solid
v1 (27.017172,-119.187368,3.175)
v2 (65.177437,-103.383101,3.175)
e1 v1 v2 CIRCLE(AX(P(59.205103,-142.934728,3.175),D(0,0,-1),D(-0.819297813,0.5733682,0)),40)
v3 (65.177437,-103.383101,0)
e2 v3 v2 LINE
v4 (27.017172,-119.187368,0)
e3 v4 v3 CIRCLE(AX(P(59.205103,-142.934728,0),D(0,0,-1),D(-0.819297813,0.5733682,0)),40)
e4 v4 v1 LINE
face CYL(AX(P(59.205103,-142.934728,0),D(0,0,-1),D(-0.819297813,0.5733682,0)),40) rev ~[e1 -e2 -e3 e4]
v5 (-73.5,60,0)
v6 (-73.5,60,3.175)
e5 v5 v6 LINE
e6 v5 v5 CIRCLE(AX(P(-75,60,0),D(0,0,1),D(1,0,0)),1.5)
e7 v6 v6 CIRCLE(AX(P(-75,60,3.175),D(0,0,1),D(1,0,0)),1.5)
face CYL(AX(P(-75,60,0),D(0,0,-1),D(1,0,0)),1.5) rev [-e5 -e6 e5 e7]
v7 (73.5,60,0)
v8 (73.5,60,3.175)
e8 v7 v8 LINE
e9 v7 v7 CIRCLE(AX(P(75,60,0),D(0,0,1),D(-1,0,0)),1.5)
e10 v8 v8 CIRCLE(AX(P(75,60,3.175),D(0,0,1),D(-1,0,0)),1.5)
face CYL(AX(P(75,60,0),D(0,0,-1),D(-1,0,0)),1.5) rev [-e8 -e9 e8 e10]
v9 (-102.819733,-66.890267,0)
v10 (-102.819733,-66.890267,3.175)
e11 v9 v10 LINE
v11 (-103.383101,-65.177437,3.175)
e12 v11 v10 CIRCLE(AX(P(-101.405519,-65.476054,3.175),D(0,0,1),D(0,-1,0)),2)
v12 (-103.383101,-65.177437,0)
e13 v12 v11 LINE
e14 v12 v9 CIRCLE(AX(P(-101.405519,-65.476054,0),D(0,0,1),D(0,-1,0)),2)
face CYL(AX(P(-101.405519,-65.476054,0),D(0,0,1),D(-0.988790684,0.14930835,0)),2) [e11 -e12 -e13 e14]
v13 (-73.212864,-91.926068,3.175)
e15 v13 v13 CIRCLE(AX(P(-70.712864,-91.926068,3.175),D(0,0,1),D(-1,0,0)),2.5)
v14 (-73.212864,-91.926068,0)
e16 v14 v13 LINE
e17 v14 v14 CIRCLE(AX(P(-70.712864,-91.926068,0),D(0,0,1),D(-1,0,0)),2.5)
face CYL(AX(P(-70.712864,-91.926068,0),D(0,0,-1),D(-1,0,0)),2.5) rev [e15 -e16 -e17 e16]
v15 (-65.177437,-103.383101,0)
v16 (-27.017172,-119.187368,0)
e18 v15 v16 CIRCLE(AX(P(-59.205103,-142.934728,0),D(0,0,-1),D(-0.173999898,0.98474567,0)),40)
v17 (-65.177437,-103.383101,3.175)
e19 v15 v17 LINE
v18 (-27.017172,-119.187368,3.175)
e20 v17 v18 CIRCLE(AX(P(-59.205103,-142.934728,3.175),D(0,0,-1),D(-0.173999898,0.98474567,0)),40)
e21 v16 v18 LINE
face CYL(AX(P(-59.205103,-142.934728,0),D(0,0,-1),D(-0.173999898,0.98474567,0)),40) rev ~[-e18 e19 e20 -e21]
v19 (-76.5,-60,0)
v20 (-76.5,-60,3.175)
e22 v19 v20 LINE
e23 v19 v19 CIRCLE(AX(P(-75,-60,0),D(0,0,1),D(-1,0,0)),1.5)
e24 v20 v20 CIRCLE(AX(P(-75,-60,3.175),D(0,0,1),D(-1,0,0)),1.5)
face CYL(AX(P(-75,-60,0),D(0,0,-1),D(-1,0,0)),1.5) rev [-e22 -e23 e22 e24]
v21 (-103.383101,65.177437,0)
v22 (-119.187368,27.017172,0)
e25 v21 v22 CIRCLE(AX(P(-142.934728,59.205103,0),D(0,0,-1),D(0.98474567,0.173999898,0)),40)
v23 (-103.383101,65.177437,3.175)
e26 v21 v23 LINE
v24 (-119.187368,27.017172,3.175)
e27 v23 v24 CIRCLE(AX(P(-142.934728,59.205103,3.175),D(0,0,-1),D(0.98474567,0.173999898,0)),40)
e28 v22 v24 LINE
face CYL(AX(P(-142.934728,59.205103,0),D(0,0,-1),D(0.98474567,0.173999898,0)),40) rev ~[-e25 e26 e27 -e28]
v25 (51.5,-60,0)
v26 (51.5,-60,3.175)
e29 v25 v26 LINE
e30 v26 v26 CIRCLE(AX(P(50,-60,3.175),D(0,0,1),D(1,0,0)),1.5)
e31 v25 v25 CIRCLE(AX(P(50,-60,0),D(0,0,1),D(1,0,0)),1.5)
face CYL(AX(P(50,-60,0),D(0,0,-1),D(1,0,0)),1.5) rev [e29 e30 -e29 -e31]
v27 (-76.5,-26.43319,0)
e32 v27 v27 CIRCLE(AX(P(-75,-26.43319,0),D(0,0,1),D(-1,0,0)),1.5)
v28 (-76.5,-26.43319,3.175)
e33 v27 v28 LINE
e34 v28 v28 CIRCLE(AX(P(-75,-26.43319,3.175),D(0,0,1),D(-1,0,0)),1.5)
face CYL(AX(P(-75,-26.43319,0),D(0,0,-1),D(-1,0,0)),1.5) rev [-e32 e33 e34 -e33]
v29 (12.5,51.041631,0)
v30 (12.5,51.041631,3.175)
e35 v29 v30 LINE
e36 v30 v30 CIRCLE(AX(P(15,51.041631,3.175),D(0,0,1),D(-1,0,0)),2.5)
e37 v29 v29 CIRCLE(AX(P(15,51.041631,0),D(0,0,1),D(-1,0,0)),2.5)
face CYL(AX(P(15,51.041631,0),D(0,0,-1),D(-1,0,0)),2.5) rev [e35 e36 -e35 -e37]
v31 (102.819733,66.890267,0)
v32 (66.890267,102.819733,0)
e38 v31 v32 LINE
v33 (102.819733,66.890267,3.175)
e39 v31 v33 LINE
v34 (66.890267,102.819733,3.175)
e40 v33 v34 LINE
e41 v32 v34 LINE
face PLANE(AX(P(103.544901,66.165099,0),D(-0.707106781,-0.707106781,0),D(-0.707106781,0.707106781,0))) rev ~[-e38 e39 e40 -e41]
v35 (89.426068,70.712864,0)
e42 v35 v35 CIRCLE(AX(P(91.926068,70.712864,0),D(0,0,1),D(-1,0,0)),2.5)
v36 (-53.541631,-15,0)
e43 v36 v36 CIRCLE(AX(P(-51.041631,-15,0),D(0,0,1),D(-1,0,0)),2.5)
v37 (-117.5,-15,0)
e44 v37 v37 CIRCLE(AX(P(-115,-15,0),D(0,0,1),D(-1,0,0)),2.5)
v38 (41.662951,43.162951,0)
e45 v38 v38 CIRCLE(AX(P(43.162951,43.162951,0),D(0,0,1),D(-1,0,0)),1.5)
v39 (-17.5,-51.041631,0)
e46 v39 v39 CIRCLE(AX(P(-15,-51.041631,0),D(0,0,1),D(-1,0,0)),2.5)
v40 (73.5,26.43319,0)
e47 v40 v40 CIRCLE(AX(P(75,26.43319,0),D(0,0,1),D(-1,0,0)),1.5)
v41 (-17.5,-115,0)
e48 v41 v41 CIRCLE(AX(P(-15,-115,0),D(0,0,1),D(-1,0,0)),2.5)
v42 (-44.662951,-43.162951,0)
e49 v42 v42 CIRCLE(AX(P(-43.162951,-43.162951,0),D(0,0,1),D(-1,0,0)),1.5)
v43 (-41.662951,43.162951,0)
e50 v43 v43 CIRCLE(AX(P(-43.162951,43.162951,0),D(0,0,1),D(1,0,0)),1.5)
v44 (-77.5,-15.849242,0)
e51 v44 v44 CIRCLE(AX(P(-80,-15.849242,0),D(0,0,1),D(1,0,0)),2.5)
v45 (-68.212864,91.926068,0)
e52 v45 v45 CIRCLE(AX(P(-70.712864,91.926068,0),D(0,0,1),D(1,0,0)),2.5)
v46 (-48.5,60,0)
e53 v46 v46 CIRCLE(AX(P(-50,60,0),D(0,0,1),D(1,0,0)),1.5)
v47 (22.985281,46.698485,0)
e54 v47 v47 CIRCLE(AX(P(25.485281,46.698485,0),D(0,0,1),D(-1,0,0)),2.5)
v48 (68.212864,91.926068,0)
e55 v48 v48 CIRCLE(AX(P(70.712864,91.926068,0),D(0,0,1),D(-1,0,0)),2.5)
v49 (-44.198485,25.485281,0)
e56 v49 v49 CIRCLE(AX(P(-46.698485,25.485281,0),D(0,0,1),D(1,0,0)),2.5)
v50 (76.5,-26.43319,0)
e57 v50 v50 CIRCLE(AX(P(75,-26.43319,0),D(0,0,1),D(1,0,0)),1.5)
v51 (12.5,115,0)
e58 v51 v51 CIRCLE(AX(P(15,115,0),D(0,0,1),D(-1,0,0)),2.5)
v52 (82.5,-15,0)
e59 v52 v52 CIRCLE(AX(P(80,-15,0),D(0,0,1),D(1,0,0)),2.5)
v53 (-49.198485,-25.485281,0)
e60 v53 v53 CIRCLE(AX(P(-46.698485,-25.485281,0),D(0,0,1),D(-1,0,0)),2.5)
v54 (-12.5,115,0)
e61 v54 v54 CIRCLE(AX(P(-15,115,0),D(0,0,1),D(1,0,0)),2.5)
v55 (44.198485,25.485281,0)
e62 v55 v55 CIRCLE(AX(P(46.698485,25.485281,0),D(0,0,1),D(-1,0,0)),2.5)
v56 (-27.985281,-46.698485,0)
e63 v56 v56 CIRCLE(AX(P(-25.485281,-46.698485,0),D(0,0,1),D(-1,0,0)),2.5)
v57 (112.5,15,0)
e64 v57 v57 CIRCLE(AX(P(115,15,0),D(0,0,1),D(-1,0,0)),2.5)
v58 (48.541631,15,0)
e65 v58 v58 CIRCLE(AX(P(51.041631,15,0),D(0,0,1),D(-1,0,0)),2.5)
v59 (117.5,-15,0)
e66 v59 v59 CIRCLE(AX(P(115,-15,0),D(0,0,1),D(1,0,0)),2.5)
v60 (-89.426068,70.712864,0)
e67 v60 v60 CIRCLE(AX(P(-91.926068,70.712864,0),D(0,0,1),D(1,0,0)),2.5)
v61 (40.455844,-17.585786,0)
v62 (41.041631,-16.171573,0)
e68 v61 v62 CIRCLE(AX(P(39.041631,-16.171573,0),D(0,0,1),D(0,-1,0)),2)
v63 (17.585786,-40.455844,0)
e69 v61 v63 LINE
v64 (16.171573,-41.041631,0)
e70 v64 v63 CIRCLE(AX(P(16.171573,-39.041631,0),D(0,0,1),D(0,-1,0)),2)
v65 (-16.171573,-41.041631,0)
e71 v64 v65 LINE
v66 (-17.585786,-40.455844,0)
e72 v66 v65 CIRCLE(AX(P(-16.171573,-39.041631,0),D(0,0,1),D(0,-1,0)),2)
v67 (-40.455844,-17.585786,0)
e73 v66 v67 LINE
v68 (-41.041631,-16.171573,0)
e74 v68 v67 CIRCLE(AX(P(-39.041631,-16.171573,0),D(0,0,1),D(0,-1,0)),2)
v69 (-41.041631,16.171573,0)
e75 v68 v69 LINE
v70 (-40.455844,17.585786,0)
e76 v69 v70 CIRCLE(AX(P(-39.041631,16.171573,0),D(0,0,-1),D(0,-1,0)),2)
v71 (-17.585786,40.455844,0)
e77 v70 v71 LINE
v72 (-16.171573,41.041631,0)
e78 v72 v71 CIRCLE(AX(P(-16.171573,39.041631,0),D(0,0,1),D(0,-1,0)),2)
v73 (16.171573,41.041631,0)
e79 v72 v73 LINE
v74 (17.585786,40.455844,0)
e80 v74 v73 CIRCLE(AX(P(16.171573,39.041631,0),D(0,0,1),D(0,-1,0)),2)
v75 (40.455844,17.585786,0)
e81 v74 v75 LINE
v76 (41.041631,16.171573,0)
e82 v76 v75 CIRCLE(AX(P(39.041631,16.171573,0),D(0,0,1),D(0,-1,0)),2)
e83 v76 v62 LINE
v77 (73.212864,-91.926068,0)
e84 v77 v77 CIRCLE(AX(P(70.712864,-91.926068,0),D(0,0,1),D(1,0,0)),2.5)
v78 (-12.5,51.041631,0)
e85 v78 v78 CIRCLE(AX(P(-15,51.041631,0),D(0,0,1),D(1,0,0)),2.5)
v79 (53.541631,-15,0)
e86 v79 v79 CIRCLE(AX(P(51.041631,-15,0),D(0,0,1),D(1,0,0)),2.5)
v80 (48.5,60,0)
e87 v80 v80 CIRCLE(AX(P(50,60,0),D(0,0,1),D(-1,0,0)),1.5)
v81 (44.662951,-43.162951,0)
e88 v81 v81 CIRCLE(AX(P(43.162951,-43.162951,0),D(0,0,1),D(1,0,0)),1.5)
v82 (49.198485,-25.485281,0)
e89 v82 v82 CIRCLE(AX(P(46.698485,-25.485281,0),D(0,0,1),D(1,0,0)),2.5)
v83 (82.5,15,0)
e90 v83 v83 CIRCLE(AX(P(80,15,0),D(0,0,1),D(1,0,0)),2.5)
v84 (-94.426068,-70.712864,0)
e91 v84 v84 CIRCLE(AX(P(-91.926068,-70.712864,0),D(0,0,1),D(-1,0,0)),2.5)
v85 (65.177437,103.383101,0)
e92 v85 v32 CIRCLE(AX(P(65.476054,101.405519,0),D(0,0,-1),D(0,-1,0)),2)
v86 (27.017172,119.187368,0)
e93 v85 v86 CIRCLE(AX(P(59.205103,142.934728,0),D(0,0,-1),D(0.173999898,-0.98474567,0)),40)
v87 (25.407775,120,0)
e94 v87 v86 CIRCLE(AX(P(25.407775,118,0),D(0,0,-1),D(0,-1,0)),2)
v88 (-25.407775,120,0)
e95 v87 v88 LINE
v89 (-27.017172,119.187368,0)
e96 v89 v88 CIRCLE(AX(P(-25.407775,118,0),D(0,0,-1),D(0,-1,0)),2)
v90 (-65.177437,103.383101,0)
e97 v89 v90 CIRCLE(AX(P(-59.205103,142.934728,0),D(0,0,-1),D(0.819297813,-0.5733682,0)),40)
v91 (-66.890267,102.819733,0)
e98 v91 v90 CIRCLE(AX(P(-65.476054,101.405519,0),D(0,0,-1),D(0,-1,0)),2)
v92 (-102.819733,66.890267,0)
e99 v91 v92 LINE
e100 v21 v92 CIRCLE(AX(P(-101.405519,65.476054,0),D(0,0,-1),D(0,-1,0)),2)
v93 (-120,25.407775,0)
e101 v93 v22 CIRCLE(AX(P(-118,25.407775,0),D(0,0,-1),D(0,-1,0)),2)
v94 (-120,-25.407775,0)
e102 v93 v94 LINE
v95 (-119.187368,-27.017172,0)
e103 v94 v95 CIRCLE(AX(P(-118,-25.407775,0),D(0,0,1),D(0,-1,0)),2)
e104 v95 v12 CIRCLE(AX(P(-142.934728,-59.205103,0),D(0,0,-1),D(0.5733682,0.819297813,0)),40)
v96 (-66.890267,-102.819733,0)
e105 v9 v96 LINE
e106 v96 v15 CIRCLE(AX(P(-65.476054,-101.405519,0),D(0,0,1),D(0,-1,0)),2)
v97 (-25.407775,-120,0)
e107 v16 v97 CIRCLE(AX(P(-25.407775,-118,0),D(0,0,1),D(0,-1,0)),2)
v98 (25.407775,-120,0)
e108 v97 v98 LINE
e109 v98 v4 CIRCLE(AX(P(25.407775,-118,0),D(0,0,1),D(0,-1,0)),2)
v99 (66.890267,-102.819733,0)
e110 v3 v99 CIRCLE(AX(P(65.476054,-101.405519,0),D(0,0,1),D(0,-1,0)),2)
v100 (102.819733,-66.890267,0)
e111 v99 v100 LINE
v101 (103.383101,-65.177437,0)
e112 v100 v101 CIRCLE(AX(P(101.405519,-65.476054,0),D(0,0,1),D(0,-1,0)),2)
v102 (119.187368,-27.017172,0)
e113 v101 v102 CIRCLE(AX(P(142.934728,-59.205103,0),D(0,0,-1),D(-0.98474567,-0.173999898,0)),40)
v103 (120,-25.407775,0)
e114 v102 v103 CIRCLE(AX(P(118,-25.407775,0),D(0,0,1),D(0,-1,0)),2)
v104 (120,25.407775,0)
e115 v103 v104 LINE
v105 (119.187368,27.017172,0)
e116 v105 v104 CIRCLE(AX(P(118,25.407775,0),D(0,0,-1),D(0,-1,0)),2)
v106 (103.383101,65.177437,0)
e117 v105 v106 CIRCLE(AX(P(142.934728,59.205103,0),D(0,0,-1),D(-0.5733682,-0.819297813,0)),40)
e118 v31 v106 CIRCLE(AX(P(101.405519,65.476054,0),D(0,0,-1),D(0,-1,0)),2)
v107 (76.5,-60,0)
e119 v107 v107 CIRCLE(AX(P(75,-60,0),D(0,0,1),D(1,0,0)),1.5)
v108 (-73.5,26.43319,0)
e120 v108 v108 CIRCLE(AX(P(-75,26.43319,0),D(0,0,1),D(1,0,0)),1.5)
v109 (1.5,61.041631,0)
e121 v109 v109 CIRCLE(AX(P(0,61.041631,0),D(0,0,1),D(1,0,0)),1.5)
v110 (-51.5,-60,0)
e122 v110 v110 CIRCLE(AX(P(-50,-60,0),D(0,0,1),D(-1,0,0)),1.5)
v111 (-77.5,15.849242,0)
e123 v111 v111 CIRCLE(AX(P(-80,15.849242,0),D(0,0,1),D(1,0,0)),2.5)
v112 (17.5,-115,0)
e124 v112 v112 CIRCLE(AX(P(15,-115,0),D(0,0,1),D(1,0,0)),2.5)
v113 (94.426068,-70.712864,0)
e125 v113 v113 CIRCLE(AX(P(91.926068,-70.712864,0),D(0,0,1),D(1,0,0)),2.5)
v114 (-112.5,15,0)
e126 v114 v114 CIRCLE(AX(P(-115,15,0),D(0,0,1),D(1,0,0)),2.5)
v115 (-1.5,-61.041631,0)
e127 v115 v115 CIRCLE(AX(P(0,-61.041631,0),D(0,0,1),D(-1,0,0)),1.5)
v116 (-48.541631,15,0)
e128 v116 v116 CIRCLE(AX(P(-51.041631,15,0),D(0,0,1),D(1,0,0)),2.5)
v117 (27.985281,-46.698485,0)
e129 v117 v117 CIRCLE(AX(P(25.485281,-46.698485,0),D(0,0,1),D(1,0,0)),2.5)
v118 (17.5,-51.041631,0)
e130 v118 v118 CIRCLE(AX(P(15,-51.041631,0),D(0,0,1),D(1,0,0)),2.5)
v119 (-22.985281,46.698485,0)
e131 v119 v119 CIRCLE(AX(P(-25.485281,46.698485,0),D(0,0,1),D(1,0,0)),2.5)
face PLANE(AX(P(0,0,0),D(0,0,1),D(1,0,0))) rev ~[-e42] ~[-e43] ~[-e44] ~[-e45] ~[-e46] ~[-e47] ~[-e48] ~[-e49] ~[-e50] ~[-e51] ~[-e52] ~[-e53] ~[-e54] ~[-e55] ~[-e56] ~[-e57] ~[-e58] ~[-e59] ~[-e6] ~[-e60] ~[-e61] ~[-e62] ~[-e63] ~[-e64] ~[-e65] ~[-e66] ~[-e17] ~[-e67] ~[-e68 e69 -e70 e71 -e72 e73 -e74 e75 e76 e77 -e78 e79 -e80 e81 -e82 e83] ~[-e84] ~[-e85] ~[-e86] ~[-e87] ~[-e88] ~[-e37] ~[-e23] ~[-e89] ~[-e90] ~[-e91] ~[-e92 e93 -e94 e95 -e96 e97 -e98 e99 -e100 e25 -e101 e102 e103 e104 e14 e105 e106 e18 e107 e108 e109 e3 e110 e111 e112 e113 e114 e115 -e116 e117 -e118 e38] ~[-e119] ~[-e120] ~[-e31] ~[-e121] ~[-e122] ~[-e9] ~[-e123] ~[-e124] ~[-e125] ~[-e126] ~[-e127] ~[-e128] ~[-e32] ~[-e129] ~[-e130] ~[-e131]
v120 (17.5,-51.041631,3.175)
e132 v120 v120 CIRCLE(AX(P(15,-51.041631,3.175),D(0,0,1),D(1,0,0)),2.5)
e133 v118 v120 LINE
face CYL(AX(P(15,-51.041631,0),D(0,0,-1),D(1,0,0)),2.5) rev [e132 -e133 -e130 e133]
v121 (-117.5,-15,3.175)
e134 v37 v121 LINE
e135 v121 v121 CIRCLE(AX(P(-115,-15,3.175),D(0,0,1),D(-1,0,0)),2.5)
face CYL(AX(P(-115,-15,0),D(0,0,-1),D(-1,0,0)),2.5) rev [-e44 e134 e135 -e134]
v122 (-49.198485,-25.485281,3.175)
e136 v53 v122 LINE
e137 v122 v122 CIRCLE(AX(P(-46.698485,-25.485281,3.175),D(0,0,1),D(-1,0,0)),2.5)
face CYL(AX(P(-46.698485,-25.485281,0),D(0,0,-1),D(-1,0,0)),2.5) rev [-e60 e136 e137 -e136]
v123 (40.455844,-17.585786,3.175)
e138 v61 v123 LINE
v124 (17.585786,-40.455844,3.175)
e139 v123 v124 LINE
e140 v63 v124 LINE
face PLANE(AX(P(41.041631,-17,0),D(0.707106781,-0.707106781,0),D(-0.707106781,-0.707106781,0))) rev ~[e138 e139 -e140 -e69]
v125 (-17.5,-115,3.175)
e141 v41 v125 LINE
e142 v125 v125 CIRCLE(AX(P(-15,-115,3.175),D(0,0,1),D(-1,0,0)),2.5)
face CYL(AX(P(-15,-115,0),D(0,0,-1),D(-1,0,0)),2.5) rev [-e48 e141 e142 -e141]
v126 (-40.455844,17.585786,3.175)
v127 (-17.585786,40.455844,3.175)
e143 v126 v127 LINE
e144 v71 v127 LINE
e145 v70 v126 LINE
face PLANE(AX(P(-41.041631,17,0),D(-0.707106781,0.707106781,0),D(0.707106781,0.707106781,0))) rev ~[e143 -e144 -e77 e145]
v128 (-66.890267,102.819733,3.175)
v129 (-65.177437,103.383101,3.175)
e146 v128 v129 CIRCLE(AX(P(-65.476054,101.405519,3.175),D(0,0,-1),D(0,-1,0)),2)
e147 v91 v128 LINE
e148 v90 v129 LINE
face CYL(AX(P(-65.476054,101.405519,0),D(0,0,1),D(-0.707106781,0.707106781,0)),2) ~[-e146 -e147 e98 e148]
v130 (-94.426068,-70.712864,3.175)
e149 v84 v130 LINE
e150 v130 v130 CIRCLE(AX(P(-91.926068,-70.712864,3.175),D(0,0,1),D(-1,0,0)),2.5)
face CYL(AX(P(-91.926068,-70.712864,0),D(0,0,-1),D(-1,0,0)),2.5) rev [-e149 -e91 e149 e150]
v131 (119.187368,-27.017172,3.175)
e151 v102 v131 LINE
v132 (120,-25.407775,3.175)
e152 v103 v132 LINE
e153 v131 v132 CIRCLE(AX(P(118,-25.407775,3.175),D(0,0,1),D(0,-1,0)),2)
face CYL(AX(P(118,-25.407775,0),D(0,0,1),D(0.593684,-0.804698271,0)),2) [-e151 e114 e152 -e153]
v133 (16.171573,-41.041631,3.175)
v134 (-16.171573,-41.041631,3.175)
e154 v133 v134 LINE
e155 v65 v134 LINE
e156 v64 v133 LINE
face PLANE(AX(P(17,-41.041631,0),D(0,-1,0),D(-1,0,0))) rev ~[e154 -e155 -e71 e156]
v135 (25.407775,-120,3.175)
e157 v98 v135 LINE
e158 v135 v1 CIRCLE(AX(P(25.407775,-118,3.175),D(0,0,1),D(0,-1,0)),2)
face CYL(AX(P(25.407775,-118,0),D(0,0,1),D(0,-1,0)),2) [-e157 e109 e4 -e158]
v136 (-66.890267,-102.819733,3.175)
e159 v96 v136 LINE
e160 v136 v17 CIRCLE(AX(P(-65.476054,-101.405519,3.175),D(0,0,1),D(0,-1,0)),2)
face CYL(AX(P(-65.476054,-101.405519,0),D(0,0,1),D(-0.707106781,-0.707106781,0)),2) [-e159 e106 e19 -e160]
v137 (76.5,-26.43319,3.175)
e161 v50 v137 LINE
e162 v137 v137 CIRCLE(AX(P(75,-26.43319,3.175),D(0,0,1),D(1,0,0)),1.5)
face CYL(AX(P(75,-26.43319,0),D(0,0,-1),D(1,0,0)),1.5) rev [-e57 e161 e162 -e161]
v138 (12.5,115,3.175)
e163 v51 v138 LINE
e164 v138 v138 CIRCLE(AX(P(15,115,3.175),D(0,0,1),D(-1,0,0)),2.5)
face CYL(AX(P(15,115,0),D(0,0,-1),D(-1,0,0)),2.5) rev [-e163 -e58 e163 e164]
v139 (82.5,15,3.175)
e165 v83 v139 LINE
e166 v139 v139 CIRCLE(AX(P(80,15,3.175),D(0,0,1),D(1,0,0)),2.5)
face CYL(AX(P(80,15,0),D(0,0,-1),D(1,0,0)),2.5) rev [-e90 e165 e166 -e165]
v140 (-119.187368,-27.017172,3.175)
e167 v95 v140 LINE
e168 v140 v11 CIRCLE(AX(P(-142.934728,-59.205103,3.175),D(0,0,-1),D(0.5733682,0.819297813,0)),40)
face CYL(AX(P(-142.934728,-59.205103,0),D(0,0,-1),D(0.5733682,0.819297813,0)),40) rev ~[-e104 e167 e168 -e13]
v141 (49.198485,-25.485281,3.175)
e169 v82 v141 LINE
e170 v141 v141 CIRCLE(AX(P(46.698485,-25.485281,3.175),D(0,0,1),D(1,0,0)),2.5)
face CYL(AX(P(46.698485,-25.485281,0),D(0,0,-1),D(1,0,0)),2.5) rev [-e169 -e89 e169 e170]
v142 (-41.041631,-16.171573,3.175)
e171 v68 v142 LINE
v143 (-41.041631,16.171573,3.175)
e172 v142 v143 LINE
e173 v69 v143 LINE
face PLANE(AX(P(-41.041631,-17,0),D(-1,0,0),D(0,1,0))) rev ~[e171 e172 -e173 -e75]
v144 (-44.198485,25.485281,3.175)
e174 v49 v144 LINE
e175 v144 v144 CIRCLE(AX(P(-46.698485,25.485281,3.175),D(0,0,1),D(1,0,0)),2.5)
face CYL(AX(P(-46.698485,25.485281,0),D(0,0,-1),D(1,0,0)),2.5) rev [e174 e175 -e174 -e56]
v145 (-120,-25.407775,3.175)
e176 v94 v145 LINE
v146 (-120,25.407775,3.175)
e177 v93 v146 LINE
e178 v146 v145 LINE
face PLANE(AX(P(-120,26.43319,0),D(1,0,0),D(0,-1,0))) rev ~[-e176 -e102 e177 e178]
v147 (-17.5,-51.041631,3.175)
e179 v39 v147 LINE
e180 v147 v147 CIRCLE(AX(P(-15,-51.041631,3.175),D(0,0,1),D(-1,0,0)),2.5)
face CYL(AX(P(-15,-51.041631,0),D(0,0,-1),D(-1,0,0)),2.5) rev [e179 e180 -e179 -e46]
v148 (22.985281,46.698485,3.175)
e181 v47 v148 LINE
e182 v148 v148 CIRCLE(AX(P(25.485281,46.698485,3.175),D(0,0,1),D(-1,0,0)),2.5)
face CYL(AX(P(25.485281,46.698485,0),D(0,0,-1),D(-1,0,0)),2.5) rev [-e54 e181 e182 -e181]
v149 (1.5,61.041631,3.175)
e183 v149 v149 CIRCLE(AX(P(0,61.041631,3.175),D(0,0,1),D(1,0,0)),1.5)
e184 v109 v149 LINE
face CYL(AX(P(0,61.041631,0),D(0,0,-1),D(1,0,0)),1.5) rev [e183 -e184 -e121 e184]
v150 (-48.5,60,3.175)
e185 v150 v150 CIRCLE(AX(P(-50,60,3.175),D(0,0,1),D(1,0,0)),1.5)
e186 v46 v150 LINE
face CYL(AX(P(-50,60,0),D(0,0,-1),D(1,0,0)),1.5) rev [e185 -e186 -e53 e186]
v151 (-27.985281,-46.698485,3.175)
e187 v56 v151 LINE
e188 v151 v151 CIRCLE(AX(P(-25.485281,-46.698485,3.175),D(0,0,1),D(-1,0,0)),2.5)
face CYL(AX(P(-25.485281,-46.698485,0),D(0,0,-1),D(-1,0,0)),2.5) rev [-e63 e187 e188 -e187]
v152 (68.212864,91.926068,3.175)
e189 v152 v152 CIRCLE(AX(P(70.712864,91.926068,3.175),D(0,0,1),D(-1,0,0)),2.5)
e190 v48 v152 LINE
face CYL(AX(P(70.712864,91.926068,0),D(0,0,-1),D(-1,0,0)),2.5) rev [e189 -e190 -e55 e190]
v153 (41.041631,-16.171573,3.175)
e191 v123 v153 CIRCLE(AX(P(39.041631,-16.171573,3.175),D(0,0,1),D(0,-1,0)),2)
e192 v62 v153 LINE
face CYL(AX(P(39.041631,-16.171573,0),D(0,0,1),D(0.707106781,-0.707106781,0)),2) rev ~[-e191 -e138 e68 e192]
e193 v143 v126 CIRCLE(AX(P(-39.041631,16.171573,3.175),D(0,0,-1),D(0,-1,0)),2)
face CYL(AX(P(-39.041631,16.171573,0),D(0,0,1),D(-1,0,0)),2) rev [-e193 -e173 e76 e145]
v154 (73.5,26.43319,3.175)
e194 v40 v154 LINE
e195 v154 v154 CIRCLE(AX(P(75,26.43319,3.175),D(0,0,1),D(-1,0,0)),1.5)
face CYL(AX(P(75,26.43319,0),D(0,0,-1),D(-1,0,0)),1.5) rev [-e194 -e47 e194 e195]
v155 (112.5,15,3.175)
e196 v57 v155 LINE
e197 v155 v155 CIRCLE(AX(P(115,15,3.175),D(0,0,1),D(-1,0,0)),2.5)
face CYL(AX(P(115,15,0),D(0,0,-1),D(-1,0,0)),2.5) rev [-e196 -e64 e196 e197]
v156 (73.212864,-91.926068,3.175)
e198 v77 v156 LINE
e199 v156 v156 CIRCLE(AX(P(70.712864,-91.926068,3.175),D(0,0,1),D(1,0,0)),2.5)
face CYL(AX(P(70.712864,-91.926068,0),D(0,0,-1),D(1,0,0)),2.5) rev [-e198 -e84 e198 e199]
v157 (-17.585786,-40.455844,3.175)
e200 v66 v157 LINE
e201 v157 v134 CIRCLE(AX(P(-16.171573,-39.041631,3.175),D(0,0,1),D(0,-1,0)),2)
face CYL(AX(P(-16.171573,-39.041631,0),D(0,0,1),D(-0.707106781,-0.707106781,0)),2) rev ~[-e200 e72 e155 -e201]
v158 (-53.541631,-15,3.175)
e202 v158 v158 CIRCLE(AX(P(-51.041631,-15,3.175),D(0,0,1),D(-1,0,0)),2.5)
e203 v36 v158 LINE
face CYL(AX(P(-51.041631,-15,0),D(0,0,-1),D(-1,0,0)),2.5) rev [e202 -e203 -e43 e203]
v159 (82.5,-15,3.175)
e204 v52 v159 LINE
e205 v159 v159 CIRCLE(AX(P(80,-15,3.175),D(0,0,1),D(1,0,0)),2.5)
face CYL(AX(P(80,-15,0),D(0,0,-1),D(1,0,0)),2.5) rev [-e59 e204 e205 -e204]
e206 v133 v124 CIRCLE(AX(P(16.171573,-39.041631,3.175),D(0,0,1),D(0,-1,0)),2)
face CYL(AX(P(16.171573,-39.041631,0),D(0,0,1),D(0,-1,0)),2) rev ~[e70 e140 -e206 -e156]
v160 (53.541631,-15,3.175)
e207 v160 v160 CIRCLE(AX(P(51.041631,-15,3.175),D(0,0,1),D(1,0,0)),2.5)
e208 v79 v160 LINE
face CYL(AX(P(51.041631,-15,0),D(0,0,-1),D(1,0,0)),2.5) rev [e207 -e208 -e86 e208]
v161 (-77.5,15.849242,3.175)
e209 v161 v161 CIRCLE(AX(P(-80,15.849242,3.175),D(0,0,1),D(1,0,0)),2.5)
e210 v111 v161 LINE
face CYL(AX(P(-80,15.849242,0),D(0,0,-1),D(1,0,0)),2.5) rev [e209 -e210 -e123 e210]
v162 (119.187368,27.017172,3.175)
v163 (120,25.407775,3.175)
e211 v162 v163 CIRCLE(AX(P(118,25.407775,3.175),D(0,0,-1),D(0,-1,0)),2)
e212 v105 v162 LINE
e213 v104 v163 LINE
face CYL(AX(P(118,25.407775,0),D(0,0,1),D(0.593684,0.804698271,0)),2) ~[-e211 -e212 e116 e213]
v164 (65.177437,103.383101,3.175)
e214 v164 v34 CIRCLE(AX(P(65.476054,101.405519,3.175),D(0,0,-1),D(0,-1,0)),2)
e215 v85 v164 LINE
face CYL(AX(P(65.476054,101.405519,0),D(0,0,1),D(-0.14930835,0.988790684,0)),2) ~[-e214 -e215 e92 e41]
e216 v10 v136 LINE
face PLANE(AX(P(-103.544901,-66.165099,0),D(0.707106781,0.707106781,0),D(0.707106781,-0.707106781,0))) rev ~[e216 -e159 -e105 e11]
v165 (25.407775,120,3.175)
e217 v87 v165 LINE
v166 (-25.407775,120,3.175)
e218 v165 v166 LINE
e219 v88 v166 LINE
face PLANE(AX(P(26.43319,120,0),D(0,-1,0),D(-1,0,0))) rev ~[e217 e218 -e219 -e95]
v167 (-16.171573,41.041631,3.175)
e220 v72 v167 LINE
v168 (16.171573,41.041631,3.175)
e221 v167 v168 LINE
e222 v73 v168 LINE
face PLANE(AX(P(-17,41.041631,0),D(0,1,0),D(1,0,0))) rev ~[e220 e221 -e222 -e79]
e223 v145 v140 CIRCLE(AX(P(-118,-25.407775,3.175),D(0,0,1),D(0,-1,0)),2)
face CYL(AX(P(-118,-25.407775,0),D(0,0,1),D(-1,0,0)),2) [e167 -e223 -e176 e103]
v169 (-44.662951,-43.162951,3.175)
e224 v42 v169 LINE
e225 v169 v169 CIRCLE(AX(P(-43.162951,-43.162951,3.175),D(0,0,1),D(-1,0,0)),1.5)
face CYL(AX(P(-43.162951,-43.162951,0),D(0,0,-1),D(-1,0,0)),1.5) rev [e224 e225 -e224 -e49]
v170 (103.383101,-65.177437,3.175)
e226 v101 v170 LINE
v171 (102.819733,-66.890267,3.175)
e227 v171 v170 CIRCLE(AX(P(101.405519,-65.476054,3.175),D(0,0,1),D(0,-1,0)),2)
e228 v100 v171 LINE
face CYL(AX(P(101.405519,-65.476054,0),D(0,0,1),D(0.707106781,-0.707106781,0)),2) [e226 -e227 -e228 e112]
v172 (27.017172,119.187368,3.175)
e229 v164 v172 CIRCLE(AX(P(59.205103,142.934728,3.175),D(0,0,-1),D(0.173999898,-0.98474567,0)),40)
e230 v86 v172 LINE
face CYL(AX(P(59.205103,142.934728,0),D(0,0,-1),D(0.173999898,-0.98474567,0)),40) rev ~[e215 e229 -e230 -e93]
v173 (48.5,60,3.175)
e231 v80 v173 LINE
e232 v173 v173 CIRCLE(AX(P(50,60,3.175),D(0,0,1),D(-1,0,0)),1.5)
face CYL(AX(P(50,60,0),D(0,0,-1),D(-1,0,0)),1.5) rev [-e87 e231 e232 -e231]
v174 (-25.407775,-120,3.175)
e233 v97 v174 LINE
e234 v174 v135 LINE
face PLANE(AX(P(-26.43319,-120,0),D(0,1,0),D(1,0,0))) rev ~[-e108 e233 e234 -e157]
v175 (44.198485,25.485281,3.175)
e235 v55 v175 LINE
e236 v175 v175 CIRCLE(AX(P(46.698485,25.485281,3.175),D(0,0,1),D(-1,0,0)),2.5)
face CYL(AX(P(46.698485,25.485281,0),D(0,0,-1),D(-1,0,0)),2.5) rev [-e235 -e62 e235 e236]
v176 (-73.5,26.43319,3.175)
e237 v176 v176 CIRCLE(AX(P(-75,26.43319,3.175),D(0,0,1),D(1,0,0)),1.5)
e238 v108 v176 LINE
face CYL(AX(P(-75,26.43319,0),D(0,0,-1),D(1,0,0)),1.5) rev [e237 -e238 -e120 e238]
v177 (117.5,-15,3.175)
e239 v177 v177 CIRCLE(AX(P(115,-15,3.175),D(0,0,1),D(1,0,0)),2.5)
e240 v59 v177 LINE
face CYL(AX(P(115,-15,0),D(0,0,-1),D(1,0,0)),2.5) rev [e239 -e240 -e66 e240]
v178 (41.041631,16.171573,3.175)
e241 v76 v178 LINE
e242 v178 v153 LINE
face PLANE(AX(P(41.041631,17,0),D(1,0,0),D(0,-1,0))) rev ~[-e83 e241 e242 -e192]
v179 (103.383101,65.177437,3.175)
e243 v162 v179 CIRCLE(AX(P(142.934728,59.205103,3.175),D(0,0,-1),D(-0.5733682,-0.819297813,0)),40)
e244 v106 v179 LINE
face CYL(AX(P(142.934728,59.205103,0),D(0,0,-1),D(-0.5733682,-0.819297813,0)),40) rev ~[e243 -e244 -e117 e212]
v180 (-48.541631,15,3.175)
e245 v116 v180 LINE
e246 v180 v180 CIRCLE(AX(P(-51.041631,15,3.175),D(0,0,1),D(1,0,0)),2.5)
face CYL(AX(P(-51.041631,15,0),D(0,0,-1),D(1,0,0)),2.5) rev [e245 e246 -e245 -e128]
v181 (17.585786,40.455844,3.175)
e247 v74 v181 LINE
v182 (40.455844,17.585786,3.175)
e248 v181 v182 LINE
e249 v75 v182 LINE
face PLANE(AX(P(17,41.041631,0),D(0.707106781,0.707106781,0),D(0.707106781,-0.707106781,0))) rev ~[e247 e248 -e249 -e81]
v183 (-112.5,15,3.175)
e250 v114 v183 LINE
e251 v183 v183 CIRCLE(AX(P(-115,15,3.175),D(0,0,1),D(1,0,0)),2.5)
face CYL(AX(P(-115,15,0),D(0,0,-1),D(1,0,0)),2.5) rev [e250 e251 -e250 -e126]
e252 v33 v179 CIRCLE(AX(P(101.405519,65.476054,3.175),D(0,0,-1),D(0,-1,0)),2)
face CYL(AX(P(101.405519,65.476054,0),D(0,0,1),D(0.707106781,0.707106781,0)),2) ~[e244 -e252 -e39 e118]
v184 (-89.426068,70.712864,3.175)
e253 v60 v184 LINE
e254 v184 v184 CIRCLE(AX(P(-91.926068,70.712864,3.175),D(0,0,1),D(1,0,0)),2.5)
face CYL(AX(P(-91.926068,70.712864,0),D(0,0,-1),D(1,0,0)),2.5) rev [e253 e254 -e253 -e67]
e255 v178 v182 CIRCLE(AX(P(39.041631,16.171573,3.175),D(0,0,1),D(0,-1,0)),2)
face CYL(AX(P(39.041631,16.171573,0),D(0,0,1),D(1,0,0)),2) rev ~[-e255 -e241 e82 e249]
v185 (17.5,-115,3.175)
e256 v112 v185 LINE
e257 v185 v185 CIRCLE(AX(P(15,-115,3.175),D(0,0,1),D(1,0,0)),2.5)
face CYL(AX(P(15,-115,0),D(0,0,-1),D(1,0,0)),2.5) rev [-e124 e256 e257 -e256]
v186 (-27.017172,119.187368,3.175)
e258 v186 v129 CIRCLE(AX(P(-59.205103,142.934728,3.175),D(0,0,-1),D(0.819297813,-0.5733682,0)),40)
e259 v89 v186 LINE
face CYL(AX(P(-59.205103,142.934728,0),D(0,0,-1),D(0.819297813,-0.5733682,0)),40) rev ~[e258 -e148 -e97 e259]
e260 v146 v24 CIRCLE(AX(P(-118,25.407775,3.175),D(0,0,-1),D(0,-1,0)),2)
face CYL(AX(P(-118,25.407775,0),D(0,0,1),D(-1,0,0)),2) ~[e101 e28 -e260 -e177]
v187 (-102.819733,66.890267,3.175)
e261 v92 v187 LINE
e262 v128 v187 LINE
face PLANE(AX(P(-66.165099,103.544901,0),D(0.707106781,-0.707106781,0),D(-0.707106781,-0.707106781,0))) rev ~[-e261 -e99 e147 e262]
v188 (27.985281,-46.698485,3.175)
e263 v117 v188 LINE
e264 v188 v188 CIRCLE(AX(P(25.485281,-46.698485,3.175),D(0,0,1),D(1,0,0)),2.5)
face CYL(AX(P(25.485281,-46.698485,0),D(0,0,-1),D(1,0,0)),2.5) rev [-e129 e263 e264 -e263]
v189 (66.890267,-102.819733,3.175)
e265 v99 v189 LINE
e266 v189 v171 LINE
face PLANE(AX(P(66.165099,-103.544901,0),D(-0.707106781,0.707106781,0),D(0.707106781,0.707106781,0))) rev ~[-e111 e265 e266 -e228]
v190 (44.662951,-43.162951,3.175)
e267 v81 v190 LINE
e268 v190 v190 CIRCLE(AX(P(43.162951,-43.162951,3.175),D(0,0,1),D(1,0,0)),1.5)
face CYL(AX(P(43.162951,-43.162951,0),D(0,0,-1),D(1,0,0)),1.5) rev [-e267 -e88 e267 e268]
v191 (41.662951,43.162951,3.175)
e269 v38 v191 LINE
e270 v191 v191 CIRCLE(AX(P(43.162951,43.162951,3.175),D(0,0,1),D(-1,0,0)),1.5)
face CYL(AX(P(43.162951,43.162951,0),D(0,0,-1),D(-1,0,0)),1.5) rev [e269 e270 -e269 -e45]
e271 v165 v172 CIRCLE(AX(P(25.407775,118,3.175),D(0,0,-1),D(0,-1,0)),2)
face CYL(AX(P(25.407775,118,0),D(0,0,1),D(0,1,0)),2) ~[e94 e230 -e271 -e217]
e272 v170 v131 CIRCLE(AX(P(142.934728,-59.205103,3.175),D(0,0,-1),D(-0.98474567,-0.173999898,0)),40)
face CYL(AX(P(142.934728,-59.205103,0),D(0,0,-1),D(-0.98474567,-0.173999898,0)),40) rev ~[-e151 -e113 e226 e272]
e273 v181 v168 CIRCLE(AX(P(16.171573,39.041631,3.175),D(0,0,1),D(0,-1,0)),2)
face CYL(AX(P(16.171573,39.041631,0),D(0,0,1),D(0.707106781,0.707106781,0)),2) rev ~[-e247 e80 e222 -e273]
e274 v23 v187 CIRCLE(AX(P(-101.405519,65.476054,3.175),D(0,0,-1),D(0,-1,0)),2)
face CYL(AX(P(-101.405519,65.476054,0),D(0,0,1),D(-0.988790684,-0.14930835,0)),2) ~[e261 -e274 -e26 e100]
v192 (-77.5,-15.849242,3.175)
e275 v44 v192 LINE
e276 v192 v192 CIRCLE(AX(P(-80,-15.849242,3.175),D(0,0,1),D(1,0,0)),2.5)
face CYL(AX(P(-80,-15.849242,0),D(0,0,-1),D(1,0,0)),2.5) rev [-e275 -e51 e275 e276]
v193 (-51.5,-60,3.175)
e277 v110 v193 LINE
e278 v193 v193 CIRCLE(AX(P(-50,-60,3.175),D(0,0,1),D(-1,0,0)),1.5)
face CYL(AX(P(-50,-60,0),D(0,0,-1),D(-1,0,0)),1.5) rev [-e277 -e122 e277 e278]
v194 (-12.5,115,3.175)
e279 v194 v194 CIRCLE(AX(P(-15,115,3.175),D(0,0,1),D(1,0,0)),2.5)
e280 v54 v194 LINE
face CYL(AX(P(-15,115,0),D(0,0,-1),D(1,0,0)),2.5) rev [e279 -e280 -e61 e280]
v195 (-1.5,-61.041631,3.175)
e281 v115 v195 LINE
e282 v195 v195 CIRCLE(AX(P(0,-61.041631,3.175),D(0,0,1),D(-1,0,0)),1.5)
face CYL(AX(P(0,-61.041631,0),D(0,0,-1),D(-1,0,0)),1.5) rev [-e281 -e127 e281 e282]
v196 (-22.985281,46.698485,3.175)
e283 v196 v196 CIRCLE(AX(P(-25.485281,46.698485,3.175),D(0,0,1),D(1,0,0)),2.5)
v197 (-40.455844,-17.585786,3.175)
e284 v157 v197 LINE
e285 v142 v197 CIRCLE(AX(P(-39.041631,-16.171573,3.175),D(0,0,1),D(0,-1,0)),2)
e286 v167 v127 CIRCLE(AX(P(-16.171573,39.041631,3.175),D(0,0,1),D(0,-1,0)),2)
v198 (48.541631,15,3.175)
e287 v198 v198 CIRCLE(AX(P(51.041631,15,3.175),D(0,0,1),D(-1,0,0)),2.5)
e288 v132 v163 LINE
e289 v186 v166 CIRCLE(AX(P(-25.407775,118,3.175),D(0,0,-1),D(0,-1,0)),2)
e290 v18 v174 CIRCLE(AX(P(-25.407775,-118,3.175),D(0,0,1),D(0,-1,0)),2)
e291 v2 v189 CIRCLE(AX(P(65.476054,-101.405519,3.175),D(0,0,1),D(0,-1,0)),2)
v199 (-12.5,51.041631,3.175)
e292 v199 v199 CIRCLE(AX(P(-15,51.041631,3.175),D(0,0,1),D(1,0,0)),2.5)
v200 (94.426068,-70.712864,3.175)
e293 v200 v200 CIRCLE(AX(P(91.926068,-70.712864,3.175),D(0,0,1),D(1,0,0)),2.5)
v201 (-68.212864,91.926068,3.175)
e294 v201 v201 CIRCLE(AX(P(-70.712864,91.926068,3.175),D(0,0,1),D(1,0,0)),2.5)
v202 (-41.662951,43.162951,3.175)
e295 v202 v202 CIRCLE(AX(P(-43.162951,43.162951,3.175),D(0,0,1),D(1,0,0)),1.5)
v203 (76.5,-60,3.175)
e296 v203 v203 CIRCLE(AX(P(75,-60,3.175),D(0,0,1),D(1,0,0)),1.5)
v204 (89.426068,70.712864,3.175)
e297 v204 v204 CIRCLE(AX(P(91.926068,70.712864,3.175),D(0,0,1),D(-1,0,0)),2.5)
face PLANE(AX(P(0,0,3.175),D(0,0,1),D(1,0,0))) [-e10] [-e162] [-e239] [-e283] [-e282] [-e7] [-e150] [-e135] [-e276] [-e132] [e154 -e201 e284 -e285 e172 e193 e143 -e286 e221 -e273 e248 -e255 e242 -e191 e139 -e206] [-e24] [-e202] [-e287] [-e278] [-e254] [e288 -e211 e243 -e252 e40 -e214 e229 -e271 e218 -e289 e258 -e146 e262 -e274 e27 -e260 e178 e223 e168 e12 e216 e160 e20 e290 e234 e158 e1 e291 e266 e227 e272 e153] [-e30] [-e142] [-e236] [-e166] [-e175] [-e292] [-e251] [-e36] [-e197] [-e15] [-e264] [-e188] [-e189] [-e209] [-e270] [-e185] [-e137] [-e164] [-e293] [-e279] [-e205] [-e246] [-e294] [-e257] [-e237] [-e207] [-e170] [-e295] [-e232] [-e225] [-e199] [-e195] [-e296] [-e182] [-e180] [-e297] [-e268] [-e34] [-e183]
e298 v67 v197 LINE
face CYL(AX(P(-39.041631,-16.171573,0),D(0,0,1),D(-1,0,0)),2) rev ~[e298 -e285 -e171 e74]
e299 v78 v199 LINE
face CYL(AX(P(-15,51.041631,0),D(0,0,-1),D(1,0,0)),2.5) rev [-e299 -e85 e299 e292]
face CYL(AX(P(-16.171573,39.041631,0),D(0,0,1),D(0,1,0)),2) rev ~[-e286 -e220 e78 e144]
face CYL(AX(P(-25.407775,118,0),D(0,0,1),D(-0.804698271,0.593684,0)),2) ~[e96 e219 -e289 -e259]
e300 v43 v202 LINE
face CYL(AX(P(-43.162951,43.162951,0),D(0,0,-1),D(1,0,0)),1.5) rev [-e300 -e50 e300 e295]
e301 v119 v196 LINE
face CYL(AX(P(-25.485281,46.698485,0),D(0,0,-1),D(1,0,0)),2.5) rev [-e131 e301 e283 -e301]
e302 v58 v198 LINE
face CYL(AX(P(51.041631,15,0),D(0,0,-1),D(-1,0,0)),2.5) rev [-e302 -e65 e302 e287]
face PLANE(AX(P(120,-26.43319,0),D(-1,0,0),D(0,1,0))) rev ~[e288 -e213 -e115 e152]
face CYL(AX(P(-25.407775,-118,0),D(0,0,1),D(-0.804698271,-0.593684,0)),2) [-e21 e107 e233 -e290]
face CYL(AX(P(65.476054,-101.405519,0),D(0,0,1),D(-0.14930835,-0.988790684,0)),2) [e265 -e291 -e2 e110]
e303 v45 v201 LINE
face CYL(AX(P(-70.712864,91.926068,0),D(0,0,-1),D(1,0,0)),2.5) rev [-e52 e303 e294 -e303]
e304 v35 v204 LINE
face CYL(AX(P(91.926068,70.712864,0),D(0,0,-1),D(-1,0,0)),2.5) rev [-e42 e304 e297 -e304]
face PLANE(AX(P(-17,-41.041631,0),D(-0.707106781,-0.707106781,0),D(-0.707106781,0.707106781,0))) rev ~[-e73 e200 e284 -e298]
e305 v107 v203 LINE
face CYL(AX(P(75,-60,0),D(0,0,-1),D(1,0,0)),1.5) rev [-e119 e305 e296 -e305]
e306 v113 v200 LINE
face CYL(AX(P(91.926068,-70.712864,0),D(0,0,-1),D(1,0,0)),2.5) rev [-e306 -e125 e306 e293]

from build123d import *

# Parameters (mm, degrees)
SKETCH1_R           = 2.5
SKETCH1_R_2         = 1.5
BOSS_EXTRUDE2_DEPTH = 3.175
FILLET2_R           = 2


with BuildPart() as part:
    # Sketch1 → Boss-Extrude2 (new body)
    with BuildSketch(Plane.XY):
        with BuildLine():
            Line((-120, 26.433190344), (-120, -26.433190344))
            ThreePointArc((-120, -26.433190344), (-105.978758658, -43.899668257), (-103.544901199, -66.165098801))
            Line((-103.544901199, -66.165098801), (-66.165098801, -103.544901199))
            ThreePointArc((-66.165098801, -103.544901199), (-43.899668257, -105.978758658), (-26.433190344, -120))
            Line((-26.433190344, -120), (26.433190344, -120))
            ThreePointArc((26.433190344, -120), (43.899668257, -105.978758658), (66.165098801, -103.544901199))
            Line((66.165098801, -103.544901199), (103.544901199, -66.165098801))
            ThreePointArc((103.544901199, -66.165098801), (105.978758658, -43.899668257), (120, -26.433190344))
            Line((120, -26.433190344), (120, 26.433190344))
            ThreePointArc((120, 26.433190344), (105.978758658, 43.899668257), (103.544901199, 66.165098801))
            Line((103.544901199, 66.165098801), (66.165098801, 103.544901199))
            ThreePointArc((66.165098801, 103.544901199), (43.899668257, 105.978758658), (26.433190344, 120))
            Line((26.433190344, 120), (-26.433190344, 120))
            ThreePointArc((-26.433190344, 120), (-43.899668257, 105.978758658), (-66.165098801, 103.544901199))
            Line((-66.165098801, 103.544901199), (-103.544901199, 66.165098801))
            ThreePointArc((-103.544901199, 66.165098801), (-105.978758658, 43.899668257), (-120, 26.433190344))
        make_face()
        with Locations((-91.926067812, 70.712864376)):
            Circle(SKETCH1_R, mode=Mode.SUBTRACT)
        with Locations((-70.712864376, 91.926067812)):
            Circle(SKETCH1_R, mode=Mode.SUBTRACT)
        with Locations((-25.485281374, 46.69848481)):
            Circle(SKETCH1_R, mode=Mode.SUBTRACT)
        with Locations((-46.69848481, 25.485281374)):
            Circle(SKETCH1_R, mode=Mode.SUBTRACT)
        with Locations((-15, 115)):
            Circle(SKETCH1_R, mode=Mode.SUBTRACT)
        with Locations((-15, 51.04163056)):
            Circle(SKETCH1_R, mode=Mode.SUBTRACT)
        with Locations((-115, 15)):
            Circle(SKETCH1_R, mode=Mode.SUBTRACT)
        with Locations((-51.04163056, 15)):
            Circle(SKETCH1_R, mode=Mode.SUBTRACT)
        with Locations((-75, 60)):
            Circle(SKETCH1_R_2, mode=Mode.SUBTRACT)
        with Locations((-50, 60)):
            Circle(SKETCH1_R_2, mode=Mode.SUBTRACT)
        with Locations((-43.162950904, 43.162950904)):
            Circle(SKETCH1_R_2, mode=Mode.SUBTRACT)
        with Locations((0, 61.04163056)):
            Circle(SKETCH1_R_2, mode=Mode.SUBTRACT)
        with Locations((-75, 26.433190344)):
            Circle(SKETCH1_R_2, mode=Mode.SUBTRACT)
        with Locations(Location((75, 26.433190344, 0), (0, 0, 180))):
            Circle(SKETCH1_R_2, mode=Mode.SUBTRACT)
        with Locations(Location((43.162950904, 43.162950904, 0), (0, 0, 180))):
            Circle(SKETCH1_R_2, mode=Mode.SUBTRACT)
        with Locations(Location((50, 60, 0), (0, 0, 180))):
            Circle(SKETCH1_R_2, mode=Mode.SUBTRACT)
        with Locations(Location((75, 60, 0), (0, 0, 180))):
            Circle(SKETCH1_R_2, mode=Mode.SUBTRACT)
        with Locations(Location((51.04163056, 15, 0), (0, 0, 180))):
            Circle(SKETCH1_R, mode=Mode.SUBTRACT)
        with Locations(Location((115, 15, 0), (0, 0, 180))):
            Circle(SKETCH1_R, mode=Mode.SUBTRACT)
        with Locations(Location((15, 51.04163056, 0), (0, 0, 180))):
            Circle(SKETCH1_R, mode=Mode.SUBTRACT)
        with Locations(Location((15, 115, 0), (0, 0, 180))):
            Circle(SKETCH1_R, mode=Mode.SUBTRACT)
        with Locations(Location((46.69848481, 25.485281374, 0), (0, 0, 180))):
            Circle(SKETCH1_R, mode=Mode.SUBTRACT)
        with Locations(Location((25.485281374, 46.69848481, 0), (0, 0, 180))):
            Circle(SKETCH1_R, mode=Mode.SUBTRACT)
        with Locations(Location((70.712864376, 91.926067812, 0), (0, 0, 180))):
            Circle(SKETCH1_R, mode=Mode.SUBTRACT)
        with Locations(Location((91.926067812, 70.712864376, 0), (0, 0, 180))):
            Circle(SKETCH1_R, mode=Mode.SUBTRACT)
        with Locations((91.926067812, -70.712864376)):
            Circle(SKETCH1_R, mode=Mode.SUBTRACT)
        with Locations((70.712864376, -91.926067812)):
            Circle(SKETCH1_R, mode=Mode.SUBTRACT)
        with Locations((25.485281374, -46.69848481)):
            Circle(SKETCH1_R, mode=Mode.SUBTRACT)
        with Locations((46.69848481, -25.485281374)):
            Circle(SKETCH1_R, mode=Mode.SUBTRACT)
        with Locations((15, -115)):
            Circle(SKETCH1_R, mode=Mode.SUBTRACT)
        with Locations((15, -51.04163056)):
            Circle(SKETCH1_R, mode=Mode.SUBTRACT)
        with Locations((115, -15)):
            Circle(SKETCH1_R, mode=Mode.SUBTRACT)
        with Locations((51.04163056, -15)):
            Circle(SKETCH1_R, mode=Mode.SUBTRACT)
        with Locations((75, -60)):
            Circle(SKETCH1_R_2, mode=Mode.SUBTRACT)
        with Locations((50, -60)):
            Circle(SKETCH1_R_2, mode=Mode.SUBTRACT)
        with Locations((43.162950904, -43.162950904)):
            Circle(SKETCH1_R_2, mode=Mode.SUBTRACT)
        with Locations((75, -26.433190344)):
            Circle(SKETCH1_R_2, mode=Mode.SUBTRACT)
        with Locations(Location((-75, -26.433190344, 0), (0, 0, 180))):
            Circle(SKETCH1_R_2, mode=Mode.SUBTRACT)
        with Locations(Location((0, -61.04163056, 0), (0, 0, 180))):
            Circle(SKETCH1_R_2, mode=Mode.SUBTRACT)
        with Locations(Location((-43.162950904, -43.162950904, 0), (0, 0, 180))):
            Circle(SKETCH1_R_2, mode=Mode.SUBTRACT)
        with Locations(Location((-50, -60, 0), (0, 0, 180))):
            Circle(SKETCH1_R_2, mode=Mode.SUBTRACT)
        with Locations(Location((-75, -60, 0), (0, 0, 180))):
            Circle(SKETCH1_R_2, mode=Mode.SUBTRACT)
        with Locations(Location((-51.04163056, -15, 0), (0, 0, 180))):
            Circle(SKETCH1_R, mode=Mode.SUBTRACT)
        with Locations(Location((-115, -15, 0), (0, 0, 180))):
            Circle(SKETCH1_R, mode=Mode.SUBTRACT)
        with Locations(Location((-15, -51.04163056, 0), (0, 0, 180))):
            Circle(SKETCH1_R, mode=Mode.SUBTRACT)
        with Locations(Location((-15, -115, 0), (0, 0, 180))):
            Circle(SKETCH1_R, mode=Mode.SUBTRACT)
        with Locations(Location((-46.69848481, -25.485281374, 0), (0, 0, 180))):
            Circle(SKETCH1_R, mode=Mode.SUBTRACT)
        with Locations(Location((-25.485281374, -46.69848481, 0), (0, 0, 180))):
            Circle(SKETCH1_R, mode=Mode.SUBTRACT)
        with Locations(Location((-70.712864376, -91.926067812, 0), (0, 0, 180))):
            Circle(SKETCH1_R, mode=Mode.SUBTRACT)
        with Locations(Location((-91.926067812, -70.712864376, 0), (0, 0, 180))):
            Circle(SKETCH1_R, mode=Mode.SUBTRACT)
        with Locations((-80, 15.849242405)):
            Circle(SKETCH1_R, mode=Mode.SUBTRACT)
        with Locations((-80, -15.849242405)):
            Circle(SKETCH1_R, mode=Mode.SUBTRACT)
        with Locations((80, -15)):
            Circle(SKETCH1_R, mode=Mode.SUBTRACT)
        with Locations((80, 15)):
            Circle(SKETCH1_R, mode=Mode.SUBTRACT)
        Polygon((-41.04163056, 17), (-17, 41.04163056), (17, 41.04163056), (41.04163056, 17), (41.04163056, -17), (17, -41.04163056), (-17, -41.04163056), (-41.04163056, -17), align=None, mode=Mode.SUBTRACT)
    extrude(amount=BOSS_EXTRUDE2_DEPTH)

    # Fillet2
    fillet2_edges = [part.edges().sort_by_distance(p)[0] for p in [
        (-26.433190344, 120, 1.5875),
        (26.433190344, 120, 1.5875),
        (66.165098801, 103.544901199, 1.5875),
        (103.544901199, 66.165098801, 1.5875),
        (120, 26.433190344, 1.5875),
        (120, -26.433190344, 1.5875),
        (103.544901199, -66.165098801, 1.5875),
        (66.165098801, -103.544901199, 1.5875),
        (26.433190344, -120, 1.5875),
        (-26.433190344, -120, 1.5875),
        (-66.165098801, -103.544901199, 1.5875),
        (-103.544901199, -66.165098801, 1.5875),
        (-120, -26.433190344, 1.5875),
        (-120, 26.433190344, 1.5875),
        (-103.544901199, 66.165098801, 1.5875),
        (-66.165098801, 103.544901199, 1.5875),
        (-41.04163056, 17, 1.5875),
        (-41.04163056, -17, 1.5875),
        (-17, -41.04163056, 1.5875),
        (17, -41.04163056, 1.5875),
        (41.04163056, -17, 1.5875),
        (41.04163056, 17, 1.5875),
        (17, 41.04163056, 1.5875),
        (-17, 41.04163056, 1.5875),
    ]]
    fillet(fillet2_edges, radius=FILLET2_R)


solid = part.part
